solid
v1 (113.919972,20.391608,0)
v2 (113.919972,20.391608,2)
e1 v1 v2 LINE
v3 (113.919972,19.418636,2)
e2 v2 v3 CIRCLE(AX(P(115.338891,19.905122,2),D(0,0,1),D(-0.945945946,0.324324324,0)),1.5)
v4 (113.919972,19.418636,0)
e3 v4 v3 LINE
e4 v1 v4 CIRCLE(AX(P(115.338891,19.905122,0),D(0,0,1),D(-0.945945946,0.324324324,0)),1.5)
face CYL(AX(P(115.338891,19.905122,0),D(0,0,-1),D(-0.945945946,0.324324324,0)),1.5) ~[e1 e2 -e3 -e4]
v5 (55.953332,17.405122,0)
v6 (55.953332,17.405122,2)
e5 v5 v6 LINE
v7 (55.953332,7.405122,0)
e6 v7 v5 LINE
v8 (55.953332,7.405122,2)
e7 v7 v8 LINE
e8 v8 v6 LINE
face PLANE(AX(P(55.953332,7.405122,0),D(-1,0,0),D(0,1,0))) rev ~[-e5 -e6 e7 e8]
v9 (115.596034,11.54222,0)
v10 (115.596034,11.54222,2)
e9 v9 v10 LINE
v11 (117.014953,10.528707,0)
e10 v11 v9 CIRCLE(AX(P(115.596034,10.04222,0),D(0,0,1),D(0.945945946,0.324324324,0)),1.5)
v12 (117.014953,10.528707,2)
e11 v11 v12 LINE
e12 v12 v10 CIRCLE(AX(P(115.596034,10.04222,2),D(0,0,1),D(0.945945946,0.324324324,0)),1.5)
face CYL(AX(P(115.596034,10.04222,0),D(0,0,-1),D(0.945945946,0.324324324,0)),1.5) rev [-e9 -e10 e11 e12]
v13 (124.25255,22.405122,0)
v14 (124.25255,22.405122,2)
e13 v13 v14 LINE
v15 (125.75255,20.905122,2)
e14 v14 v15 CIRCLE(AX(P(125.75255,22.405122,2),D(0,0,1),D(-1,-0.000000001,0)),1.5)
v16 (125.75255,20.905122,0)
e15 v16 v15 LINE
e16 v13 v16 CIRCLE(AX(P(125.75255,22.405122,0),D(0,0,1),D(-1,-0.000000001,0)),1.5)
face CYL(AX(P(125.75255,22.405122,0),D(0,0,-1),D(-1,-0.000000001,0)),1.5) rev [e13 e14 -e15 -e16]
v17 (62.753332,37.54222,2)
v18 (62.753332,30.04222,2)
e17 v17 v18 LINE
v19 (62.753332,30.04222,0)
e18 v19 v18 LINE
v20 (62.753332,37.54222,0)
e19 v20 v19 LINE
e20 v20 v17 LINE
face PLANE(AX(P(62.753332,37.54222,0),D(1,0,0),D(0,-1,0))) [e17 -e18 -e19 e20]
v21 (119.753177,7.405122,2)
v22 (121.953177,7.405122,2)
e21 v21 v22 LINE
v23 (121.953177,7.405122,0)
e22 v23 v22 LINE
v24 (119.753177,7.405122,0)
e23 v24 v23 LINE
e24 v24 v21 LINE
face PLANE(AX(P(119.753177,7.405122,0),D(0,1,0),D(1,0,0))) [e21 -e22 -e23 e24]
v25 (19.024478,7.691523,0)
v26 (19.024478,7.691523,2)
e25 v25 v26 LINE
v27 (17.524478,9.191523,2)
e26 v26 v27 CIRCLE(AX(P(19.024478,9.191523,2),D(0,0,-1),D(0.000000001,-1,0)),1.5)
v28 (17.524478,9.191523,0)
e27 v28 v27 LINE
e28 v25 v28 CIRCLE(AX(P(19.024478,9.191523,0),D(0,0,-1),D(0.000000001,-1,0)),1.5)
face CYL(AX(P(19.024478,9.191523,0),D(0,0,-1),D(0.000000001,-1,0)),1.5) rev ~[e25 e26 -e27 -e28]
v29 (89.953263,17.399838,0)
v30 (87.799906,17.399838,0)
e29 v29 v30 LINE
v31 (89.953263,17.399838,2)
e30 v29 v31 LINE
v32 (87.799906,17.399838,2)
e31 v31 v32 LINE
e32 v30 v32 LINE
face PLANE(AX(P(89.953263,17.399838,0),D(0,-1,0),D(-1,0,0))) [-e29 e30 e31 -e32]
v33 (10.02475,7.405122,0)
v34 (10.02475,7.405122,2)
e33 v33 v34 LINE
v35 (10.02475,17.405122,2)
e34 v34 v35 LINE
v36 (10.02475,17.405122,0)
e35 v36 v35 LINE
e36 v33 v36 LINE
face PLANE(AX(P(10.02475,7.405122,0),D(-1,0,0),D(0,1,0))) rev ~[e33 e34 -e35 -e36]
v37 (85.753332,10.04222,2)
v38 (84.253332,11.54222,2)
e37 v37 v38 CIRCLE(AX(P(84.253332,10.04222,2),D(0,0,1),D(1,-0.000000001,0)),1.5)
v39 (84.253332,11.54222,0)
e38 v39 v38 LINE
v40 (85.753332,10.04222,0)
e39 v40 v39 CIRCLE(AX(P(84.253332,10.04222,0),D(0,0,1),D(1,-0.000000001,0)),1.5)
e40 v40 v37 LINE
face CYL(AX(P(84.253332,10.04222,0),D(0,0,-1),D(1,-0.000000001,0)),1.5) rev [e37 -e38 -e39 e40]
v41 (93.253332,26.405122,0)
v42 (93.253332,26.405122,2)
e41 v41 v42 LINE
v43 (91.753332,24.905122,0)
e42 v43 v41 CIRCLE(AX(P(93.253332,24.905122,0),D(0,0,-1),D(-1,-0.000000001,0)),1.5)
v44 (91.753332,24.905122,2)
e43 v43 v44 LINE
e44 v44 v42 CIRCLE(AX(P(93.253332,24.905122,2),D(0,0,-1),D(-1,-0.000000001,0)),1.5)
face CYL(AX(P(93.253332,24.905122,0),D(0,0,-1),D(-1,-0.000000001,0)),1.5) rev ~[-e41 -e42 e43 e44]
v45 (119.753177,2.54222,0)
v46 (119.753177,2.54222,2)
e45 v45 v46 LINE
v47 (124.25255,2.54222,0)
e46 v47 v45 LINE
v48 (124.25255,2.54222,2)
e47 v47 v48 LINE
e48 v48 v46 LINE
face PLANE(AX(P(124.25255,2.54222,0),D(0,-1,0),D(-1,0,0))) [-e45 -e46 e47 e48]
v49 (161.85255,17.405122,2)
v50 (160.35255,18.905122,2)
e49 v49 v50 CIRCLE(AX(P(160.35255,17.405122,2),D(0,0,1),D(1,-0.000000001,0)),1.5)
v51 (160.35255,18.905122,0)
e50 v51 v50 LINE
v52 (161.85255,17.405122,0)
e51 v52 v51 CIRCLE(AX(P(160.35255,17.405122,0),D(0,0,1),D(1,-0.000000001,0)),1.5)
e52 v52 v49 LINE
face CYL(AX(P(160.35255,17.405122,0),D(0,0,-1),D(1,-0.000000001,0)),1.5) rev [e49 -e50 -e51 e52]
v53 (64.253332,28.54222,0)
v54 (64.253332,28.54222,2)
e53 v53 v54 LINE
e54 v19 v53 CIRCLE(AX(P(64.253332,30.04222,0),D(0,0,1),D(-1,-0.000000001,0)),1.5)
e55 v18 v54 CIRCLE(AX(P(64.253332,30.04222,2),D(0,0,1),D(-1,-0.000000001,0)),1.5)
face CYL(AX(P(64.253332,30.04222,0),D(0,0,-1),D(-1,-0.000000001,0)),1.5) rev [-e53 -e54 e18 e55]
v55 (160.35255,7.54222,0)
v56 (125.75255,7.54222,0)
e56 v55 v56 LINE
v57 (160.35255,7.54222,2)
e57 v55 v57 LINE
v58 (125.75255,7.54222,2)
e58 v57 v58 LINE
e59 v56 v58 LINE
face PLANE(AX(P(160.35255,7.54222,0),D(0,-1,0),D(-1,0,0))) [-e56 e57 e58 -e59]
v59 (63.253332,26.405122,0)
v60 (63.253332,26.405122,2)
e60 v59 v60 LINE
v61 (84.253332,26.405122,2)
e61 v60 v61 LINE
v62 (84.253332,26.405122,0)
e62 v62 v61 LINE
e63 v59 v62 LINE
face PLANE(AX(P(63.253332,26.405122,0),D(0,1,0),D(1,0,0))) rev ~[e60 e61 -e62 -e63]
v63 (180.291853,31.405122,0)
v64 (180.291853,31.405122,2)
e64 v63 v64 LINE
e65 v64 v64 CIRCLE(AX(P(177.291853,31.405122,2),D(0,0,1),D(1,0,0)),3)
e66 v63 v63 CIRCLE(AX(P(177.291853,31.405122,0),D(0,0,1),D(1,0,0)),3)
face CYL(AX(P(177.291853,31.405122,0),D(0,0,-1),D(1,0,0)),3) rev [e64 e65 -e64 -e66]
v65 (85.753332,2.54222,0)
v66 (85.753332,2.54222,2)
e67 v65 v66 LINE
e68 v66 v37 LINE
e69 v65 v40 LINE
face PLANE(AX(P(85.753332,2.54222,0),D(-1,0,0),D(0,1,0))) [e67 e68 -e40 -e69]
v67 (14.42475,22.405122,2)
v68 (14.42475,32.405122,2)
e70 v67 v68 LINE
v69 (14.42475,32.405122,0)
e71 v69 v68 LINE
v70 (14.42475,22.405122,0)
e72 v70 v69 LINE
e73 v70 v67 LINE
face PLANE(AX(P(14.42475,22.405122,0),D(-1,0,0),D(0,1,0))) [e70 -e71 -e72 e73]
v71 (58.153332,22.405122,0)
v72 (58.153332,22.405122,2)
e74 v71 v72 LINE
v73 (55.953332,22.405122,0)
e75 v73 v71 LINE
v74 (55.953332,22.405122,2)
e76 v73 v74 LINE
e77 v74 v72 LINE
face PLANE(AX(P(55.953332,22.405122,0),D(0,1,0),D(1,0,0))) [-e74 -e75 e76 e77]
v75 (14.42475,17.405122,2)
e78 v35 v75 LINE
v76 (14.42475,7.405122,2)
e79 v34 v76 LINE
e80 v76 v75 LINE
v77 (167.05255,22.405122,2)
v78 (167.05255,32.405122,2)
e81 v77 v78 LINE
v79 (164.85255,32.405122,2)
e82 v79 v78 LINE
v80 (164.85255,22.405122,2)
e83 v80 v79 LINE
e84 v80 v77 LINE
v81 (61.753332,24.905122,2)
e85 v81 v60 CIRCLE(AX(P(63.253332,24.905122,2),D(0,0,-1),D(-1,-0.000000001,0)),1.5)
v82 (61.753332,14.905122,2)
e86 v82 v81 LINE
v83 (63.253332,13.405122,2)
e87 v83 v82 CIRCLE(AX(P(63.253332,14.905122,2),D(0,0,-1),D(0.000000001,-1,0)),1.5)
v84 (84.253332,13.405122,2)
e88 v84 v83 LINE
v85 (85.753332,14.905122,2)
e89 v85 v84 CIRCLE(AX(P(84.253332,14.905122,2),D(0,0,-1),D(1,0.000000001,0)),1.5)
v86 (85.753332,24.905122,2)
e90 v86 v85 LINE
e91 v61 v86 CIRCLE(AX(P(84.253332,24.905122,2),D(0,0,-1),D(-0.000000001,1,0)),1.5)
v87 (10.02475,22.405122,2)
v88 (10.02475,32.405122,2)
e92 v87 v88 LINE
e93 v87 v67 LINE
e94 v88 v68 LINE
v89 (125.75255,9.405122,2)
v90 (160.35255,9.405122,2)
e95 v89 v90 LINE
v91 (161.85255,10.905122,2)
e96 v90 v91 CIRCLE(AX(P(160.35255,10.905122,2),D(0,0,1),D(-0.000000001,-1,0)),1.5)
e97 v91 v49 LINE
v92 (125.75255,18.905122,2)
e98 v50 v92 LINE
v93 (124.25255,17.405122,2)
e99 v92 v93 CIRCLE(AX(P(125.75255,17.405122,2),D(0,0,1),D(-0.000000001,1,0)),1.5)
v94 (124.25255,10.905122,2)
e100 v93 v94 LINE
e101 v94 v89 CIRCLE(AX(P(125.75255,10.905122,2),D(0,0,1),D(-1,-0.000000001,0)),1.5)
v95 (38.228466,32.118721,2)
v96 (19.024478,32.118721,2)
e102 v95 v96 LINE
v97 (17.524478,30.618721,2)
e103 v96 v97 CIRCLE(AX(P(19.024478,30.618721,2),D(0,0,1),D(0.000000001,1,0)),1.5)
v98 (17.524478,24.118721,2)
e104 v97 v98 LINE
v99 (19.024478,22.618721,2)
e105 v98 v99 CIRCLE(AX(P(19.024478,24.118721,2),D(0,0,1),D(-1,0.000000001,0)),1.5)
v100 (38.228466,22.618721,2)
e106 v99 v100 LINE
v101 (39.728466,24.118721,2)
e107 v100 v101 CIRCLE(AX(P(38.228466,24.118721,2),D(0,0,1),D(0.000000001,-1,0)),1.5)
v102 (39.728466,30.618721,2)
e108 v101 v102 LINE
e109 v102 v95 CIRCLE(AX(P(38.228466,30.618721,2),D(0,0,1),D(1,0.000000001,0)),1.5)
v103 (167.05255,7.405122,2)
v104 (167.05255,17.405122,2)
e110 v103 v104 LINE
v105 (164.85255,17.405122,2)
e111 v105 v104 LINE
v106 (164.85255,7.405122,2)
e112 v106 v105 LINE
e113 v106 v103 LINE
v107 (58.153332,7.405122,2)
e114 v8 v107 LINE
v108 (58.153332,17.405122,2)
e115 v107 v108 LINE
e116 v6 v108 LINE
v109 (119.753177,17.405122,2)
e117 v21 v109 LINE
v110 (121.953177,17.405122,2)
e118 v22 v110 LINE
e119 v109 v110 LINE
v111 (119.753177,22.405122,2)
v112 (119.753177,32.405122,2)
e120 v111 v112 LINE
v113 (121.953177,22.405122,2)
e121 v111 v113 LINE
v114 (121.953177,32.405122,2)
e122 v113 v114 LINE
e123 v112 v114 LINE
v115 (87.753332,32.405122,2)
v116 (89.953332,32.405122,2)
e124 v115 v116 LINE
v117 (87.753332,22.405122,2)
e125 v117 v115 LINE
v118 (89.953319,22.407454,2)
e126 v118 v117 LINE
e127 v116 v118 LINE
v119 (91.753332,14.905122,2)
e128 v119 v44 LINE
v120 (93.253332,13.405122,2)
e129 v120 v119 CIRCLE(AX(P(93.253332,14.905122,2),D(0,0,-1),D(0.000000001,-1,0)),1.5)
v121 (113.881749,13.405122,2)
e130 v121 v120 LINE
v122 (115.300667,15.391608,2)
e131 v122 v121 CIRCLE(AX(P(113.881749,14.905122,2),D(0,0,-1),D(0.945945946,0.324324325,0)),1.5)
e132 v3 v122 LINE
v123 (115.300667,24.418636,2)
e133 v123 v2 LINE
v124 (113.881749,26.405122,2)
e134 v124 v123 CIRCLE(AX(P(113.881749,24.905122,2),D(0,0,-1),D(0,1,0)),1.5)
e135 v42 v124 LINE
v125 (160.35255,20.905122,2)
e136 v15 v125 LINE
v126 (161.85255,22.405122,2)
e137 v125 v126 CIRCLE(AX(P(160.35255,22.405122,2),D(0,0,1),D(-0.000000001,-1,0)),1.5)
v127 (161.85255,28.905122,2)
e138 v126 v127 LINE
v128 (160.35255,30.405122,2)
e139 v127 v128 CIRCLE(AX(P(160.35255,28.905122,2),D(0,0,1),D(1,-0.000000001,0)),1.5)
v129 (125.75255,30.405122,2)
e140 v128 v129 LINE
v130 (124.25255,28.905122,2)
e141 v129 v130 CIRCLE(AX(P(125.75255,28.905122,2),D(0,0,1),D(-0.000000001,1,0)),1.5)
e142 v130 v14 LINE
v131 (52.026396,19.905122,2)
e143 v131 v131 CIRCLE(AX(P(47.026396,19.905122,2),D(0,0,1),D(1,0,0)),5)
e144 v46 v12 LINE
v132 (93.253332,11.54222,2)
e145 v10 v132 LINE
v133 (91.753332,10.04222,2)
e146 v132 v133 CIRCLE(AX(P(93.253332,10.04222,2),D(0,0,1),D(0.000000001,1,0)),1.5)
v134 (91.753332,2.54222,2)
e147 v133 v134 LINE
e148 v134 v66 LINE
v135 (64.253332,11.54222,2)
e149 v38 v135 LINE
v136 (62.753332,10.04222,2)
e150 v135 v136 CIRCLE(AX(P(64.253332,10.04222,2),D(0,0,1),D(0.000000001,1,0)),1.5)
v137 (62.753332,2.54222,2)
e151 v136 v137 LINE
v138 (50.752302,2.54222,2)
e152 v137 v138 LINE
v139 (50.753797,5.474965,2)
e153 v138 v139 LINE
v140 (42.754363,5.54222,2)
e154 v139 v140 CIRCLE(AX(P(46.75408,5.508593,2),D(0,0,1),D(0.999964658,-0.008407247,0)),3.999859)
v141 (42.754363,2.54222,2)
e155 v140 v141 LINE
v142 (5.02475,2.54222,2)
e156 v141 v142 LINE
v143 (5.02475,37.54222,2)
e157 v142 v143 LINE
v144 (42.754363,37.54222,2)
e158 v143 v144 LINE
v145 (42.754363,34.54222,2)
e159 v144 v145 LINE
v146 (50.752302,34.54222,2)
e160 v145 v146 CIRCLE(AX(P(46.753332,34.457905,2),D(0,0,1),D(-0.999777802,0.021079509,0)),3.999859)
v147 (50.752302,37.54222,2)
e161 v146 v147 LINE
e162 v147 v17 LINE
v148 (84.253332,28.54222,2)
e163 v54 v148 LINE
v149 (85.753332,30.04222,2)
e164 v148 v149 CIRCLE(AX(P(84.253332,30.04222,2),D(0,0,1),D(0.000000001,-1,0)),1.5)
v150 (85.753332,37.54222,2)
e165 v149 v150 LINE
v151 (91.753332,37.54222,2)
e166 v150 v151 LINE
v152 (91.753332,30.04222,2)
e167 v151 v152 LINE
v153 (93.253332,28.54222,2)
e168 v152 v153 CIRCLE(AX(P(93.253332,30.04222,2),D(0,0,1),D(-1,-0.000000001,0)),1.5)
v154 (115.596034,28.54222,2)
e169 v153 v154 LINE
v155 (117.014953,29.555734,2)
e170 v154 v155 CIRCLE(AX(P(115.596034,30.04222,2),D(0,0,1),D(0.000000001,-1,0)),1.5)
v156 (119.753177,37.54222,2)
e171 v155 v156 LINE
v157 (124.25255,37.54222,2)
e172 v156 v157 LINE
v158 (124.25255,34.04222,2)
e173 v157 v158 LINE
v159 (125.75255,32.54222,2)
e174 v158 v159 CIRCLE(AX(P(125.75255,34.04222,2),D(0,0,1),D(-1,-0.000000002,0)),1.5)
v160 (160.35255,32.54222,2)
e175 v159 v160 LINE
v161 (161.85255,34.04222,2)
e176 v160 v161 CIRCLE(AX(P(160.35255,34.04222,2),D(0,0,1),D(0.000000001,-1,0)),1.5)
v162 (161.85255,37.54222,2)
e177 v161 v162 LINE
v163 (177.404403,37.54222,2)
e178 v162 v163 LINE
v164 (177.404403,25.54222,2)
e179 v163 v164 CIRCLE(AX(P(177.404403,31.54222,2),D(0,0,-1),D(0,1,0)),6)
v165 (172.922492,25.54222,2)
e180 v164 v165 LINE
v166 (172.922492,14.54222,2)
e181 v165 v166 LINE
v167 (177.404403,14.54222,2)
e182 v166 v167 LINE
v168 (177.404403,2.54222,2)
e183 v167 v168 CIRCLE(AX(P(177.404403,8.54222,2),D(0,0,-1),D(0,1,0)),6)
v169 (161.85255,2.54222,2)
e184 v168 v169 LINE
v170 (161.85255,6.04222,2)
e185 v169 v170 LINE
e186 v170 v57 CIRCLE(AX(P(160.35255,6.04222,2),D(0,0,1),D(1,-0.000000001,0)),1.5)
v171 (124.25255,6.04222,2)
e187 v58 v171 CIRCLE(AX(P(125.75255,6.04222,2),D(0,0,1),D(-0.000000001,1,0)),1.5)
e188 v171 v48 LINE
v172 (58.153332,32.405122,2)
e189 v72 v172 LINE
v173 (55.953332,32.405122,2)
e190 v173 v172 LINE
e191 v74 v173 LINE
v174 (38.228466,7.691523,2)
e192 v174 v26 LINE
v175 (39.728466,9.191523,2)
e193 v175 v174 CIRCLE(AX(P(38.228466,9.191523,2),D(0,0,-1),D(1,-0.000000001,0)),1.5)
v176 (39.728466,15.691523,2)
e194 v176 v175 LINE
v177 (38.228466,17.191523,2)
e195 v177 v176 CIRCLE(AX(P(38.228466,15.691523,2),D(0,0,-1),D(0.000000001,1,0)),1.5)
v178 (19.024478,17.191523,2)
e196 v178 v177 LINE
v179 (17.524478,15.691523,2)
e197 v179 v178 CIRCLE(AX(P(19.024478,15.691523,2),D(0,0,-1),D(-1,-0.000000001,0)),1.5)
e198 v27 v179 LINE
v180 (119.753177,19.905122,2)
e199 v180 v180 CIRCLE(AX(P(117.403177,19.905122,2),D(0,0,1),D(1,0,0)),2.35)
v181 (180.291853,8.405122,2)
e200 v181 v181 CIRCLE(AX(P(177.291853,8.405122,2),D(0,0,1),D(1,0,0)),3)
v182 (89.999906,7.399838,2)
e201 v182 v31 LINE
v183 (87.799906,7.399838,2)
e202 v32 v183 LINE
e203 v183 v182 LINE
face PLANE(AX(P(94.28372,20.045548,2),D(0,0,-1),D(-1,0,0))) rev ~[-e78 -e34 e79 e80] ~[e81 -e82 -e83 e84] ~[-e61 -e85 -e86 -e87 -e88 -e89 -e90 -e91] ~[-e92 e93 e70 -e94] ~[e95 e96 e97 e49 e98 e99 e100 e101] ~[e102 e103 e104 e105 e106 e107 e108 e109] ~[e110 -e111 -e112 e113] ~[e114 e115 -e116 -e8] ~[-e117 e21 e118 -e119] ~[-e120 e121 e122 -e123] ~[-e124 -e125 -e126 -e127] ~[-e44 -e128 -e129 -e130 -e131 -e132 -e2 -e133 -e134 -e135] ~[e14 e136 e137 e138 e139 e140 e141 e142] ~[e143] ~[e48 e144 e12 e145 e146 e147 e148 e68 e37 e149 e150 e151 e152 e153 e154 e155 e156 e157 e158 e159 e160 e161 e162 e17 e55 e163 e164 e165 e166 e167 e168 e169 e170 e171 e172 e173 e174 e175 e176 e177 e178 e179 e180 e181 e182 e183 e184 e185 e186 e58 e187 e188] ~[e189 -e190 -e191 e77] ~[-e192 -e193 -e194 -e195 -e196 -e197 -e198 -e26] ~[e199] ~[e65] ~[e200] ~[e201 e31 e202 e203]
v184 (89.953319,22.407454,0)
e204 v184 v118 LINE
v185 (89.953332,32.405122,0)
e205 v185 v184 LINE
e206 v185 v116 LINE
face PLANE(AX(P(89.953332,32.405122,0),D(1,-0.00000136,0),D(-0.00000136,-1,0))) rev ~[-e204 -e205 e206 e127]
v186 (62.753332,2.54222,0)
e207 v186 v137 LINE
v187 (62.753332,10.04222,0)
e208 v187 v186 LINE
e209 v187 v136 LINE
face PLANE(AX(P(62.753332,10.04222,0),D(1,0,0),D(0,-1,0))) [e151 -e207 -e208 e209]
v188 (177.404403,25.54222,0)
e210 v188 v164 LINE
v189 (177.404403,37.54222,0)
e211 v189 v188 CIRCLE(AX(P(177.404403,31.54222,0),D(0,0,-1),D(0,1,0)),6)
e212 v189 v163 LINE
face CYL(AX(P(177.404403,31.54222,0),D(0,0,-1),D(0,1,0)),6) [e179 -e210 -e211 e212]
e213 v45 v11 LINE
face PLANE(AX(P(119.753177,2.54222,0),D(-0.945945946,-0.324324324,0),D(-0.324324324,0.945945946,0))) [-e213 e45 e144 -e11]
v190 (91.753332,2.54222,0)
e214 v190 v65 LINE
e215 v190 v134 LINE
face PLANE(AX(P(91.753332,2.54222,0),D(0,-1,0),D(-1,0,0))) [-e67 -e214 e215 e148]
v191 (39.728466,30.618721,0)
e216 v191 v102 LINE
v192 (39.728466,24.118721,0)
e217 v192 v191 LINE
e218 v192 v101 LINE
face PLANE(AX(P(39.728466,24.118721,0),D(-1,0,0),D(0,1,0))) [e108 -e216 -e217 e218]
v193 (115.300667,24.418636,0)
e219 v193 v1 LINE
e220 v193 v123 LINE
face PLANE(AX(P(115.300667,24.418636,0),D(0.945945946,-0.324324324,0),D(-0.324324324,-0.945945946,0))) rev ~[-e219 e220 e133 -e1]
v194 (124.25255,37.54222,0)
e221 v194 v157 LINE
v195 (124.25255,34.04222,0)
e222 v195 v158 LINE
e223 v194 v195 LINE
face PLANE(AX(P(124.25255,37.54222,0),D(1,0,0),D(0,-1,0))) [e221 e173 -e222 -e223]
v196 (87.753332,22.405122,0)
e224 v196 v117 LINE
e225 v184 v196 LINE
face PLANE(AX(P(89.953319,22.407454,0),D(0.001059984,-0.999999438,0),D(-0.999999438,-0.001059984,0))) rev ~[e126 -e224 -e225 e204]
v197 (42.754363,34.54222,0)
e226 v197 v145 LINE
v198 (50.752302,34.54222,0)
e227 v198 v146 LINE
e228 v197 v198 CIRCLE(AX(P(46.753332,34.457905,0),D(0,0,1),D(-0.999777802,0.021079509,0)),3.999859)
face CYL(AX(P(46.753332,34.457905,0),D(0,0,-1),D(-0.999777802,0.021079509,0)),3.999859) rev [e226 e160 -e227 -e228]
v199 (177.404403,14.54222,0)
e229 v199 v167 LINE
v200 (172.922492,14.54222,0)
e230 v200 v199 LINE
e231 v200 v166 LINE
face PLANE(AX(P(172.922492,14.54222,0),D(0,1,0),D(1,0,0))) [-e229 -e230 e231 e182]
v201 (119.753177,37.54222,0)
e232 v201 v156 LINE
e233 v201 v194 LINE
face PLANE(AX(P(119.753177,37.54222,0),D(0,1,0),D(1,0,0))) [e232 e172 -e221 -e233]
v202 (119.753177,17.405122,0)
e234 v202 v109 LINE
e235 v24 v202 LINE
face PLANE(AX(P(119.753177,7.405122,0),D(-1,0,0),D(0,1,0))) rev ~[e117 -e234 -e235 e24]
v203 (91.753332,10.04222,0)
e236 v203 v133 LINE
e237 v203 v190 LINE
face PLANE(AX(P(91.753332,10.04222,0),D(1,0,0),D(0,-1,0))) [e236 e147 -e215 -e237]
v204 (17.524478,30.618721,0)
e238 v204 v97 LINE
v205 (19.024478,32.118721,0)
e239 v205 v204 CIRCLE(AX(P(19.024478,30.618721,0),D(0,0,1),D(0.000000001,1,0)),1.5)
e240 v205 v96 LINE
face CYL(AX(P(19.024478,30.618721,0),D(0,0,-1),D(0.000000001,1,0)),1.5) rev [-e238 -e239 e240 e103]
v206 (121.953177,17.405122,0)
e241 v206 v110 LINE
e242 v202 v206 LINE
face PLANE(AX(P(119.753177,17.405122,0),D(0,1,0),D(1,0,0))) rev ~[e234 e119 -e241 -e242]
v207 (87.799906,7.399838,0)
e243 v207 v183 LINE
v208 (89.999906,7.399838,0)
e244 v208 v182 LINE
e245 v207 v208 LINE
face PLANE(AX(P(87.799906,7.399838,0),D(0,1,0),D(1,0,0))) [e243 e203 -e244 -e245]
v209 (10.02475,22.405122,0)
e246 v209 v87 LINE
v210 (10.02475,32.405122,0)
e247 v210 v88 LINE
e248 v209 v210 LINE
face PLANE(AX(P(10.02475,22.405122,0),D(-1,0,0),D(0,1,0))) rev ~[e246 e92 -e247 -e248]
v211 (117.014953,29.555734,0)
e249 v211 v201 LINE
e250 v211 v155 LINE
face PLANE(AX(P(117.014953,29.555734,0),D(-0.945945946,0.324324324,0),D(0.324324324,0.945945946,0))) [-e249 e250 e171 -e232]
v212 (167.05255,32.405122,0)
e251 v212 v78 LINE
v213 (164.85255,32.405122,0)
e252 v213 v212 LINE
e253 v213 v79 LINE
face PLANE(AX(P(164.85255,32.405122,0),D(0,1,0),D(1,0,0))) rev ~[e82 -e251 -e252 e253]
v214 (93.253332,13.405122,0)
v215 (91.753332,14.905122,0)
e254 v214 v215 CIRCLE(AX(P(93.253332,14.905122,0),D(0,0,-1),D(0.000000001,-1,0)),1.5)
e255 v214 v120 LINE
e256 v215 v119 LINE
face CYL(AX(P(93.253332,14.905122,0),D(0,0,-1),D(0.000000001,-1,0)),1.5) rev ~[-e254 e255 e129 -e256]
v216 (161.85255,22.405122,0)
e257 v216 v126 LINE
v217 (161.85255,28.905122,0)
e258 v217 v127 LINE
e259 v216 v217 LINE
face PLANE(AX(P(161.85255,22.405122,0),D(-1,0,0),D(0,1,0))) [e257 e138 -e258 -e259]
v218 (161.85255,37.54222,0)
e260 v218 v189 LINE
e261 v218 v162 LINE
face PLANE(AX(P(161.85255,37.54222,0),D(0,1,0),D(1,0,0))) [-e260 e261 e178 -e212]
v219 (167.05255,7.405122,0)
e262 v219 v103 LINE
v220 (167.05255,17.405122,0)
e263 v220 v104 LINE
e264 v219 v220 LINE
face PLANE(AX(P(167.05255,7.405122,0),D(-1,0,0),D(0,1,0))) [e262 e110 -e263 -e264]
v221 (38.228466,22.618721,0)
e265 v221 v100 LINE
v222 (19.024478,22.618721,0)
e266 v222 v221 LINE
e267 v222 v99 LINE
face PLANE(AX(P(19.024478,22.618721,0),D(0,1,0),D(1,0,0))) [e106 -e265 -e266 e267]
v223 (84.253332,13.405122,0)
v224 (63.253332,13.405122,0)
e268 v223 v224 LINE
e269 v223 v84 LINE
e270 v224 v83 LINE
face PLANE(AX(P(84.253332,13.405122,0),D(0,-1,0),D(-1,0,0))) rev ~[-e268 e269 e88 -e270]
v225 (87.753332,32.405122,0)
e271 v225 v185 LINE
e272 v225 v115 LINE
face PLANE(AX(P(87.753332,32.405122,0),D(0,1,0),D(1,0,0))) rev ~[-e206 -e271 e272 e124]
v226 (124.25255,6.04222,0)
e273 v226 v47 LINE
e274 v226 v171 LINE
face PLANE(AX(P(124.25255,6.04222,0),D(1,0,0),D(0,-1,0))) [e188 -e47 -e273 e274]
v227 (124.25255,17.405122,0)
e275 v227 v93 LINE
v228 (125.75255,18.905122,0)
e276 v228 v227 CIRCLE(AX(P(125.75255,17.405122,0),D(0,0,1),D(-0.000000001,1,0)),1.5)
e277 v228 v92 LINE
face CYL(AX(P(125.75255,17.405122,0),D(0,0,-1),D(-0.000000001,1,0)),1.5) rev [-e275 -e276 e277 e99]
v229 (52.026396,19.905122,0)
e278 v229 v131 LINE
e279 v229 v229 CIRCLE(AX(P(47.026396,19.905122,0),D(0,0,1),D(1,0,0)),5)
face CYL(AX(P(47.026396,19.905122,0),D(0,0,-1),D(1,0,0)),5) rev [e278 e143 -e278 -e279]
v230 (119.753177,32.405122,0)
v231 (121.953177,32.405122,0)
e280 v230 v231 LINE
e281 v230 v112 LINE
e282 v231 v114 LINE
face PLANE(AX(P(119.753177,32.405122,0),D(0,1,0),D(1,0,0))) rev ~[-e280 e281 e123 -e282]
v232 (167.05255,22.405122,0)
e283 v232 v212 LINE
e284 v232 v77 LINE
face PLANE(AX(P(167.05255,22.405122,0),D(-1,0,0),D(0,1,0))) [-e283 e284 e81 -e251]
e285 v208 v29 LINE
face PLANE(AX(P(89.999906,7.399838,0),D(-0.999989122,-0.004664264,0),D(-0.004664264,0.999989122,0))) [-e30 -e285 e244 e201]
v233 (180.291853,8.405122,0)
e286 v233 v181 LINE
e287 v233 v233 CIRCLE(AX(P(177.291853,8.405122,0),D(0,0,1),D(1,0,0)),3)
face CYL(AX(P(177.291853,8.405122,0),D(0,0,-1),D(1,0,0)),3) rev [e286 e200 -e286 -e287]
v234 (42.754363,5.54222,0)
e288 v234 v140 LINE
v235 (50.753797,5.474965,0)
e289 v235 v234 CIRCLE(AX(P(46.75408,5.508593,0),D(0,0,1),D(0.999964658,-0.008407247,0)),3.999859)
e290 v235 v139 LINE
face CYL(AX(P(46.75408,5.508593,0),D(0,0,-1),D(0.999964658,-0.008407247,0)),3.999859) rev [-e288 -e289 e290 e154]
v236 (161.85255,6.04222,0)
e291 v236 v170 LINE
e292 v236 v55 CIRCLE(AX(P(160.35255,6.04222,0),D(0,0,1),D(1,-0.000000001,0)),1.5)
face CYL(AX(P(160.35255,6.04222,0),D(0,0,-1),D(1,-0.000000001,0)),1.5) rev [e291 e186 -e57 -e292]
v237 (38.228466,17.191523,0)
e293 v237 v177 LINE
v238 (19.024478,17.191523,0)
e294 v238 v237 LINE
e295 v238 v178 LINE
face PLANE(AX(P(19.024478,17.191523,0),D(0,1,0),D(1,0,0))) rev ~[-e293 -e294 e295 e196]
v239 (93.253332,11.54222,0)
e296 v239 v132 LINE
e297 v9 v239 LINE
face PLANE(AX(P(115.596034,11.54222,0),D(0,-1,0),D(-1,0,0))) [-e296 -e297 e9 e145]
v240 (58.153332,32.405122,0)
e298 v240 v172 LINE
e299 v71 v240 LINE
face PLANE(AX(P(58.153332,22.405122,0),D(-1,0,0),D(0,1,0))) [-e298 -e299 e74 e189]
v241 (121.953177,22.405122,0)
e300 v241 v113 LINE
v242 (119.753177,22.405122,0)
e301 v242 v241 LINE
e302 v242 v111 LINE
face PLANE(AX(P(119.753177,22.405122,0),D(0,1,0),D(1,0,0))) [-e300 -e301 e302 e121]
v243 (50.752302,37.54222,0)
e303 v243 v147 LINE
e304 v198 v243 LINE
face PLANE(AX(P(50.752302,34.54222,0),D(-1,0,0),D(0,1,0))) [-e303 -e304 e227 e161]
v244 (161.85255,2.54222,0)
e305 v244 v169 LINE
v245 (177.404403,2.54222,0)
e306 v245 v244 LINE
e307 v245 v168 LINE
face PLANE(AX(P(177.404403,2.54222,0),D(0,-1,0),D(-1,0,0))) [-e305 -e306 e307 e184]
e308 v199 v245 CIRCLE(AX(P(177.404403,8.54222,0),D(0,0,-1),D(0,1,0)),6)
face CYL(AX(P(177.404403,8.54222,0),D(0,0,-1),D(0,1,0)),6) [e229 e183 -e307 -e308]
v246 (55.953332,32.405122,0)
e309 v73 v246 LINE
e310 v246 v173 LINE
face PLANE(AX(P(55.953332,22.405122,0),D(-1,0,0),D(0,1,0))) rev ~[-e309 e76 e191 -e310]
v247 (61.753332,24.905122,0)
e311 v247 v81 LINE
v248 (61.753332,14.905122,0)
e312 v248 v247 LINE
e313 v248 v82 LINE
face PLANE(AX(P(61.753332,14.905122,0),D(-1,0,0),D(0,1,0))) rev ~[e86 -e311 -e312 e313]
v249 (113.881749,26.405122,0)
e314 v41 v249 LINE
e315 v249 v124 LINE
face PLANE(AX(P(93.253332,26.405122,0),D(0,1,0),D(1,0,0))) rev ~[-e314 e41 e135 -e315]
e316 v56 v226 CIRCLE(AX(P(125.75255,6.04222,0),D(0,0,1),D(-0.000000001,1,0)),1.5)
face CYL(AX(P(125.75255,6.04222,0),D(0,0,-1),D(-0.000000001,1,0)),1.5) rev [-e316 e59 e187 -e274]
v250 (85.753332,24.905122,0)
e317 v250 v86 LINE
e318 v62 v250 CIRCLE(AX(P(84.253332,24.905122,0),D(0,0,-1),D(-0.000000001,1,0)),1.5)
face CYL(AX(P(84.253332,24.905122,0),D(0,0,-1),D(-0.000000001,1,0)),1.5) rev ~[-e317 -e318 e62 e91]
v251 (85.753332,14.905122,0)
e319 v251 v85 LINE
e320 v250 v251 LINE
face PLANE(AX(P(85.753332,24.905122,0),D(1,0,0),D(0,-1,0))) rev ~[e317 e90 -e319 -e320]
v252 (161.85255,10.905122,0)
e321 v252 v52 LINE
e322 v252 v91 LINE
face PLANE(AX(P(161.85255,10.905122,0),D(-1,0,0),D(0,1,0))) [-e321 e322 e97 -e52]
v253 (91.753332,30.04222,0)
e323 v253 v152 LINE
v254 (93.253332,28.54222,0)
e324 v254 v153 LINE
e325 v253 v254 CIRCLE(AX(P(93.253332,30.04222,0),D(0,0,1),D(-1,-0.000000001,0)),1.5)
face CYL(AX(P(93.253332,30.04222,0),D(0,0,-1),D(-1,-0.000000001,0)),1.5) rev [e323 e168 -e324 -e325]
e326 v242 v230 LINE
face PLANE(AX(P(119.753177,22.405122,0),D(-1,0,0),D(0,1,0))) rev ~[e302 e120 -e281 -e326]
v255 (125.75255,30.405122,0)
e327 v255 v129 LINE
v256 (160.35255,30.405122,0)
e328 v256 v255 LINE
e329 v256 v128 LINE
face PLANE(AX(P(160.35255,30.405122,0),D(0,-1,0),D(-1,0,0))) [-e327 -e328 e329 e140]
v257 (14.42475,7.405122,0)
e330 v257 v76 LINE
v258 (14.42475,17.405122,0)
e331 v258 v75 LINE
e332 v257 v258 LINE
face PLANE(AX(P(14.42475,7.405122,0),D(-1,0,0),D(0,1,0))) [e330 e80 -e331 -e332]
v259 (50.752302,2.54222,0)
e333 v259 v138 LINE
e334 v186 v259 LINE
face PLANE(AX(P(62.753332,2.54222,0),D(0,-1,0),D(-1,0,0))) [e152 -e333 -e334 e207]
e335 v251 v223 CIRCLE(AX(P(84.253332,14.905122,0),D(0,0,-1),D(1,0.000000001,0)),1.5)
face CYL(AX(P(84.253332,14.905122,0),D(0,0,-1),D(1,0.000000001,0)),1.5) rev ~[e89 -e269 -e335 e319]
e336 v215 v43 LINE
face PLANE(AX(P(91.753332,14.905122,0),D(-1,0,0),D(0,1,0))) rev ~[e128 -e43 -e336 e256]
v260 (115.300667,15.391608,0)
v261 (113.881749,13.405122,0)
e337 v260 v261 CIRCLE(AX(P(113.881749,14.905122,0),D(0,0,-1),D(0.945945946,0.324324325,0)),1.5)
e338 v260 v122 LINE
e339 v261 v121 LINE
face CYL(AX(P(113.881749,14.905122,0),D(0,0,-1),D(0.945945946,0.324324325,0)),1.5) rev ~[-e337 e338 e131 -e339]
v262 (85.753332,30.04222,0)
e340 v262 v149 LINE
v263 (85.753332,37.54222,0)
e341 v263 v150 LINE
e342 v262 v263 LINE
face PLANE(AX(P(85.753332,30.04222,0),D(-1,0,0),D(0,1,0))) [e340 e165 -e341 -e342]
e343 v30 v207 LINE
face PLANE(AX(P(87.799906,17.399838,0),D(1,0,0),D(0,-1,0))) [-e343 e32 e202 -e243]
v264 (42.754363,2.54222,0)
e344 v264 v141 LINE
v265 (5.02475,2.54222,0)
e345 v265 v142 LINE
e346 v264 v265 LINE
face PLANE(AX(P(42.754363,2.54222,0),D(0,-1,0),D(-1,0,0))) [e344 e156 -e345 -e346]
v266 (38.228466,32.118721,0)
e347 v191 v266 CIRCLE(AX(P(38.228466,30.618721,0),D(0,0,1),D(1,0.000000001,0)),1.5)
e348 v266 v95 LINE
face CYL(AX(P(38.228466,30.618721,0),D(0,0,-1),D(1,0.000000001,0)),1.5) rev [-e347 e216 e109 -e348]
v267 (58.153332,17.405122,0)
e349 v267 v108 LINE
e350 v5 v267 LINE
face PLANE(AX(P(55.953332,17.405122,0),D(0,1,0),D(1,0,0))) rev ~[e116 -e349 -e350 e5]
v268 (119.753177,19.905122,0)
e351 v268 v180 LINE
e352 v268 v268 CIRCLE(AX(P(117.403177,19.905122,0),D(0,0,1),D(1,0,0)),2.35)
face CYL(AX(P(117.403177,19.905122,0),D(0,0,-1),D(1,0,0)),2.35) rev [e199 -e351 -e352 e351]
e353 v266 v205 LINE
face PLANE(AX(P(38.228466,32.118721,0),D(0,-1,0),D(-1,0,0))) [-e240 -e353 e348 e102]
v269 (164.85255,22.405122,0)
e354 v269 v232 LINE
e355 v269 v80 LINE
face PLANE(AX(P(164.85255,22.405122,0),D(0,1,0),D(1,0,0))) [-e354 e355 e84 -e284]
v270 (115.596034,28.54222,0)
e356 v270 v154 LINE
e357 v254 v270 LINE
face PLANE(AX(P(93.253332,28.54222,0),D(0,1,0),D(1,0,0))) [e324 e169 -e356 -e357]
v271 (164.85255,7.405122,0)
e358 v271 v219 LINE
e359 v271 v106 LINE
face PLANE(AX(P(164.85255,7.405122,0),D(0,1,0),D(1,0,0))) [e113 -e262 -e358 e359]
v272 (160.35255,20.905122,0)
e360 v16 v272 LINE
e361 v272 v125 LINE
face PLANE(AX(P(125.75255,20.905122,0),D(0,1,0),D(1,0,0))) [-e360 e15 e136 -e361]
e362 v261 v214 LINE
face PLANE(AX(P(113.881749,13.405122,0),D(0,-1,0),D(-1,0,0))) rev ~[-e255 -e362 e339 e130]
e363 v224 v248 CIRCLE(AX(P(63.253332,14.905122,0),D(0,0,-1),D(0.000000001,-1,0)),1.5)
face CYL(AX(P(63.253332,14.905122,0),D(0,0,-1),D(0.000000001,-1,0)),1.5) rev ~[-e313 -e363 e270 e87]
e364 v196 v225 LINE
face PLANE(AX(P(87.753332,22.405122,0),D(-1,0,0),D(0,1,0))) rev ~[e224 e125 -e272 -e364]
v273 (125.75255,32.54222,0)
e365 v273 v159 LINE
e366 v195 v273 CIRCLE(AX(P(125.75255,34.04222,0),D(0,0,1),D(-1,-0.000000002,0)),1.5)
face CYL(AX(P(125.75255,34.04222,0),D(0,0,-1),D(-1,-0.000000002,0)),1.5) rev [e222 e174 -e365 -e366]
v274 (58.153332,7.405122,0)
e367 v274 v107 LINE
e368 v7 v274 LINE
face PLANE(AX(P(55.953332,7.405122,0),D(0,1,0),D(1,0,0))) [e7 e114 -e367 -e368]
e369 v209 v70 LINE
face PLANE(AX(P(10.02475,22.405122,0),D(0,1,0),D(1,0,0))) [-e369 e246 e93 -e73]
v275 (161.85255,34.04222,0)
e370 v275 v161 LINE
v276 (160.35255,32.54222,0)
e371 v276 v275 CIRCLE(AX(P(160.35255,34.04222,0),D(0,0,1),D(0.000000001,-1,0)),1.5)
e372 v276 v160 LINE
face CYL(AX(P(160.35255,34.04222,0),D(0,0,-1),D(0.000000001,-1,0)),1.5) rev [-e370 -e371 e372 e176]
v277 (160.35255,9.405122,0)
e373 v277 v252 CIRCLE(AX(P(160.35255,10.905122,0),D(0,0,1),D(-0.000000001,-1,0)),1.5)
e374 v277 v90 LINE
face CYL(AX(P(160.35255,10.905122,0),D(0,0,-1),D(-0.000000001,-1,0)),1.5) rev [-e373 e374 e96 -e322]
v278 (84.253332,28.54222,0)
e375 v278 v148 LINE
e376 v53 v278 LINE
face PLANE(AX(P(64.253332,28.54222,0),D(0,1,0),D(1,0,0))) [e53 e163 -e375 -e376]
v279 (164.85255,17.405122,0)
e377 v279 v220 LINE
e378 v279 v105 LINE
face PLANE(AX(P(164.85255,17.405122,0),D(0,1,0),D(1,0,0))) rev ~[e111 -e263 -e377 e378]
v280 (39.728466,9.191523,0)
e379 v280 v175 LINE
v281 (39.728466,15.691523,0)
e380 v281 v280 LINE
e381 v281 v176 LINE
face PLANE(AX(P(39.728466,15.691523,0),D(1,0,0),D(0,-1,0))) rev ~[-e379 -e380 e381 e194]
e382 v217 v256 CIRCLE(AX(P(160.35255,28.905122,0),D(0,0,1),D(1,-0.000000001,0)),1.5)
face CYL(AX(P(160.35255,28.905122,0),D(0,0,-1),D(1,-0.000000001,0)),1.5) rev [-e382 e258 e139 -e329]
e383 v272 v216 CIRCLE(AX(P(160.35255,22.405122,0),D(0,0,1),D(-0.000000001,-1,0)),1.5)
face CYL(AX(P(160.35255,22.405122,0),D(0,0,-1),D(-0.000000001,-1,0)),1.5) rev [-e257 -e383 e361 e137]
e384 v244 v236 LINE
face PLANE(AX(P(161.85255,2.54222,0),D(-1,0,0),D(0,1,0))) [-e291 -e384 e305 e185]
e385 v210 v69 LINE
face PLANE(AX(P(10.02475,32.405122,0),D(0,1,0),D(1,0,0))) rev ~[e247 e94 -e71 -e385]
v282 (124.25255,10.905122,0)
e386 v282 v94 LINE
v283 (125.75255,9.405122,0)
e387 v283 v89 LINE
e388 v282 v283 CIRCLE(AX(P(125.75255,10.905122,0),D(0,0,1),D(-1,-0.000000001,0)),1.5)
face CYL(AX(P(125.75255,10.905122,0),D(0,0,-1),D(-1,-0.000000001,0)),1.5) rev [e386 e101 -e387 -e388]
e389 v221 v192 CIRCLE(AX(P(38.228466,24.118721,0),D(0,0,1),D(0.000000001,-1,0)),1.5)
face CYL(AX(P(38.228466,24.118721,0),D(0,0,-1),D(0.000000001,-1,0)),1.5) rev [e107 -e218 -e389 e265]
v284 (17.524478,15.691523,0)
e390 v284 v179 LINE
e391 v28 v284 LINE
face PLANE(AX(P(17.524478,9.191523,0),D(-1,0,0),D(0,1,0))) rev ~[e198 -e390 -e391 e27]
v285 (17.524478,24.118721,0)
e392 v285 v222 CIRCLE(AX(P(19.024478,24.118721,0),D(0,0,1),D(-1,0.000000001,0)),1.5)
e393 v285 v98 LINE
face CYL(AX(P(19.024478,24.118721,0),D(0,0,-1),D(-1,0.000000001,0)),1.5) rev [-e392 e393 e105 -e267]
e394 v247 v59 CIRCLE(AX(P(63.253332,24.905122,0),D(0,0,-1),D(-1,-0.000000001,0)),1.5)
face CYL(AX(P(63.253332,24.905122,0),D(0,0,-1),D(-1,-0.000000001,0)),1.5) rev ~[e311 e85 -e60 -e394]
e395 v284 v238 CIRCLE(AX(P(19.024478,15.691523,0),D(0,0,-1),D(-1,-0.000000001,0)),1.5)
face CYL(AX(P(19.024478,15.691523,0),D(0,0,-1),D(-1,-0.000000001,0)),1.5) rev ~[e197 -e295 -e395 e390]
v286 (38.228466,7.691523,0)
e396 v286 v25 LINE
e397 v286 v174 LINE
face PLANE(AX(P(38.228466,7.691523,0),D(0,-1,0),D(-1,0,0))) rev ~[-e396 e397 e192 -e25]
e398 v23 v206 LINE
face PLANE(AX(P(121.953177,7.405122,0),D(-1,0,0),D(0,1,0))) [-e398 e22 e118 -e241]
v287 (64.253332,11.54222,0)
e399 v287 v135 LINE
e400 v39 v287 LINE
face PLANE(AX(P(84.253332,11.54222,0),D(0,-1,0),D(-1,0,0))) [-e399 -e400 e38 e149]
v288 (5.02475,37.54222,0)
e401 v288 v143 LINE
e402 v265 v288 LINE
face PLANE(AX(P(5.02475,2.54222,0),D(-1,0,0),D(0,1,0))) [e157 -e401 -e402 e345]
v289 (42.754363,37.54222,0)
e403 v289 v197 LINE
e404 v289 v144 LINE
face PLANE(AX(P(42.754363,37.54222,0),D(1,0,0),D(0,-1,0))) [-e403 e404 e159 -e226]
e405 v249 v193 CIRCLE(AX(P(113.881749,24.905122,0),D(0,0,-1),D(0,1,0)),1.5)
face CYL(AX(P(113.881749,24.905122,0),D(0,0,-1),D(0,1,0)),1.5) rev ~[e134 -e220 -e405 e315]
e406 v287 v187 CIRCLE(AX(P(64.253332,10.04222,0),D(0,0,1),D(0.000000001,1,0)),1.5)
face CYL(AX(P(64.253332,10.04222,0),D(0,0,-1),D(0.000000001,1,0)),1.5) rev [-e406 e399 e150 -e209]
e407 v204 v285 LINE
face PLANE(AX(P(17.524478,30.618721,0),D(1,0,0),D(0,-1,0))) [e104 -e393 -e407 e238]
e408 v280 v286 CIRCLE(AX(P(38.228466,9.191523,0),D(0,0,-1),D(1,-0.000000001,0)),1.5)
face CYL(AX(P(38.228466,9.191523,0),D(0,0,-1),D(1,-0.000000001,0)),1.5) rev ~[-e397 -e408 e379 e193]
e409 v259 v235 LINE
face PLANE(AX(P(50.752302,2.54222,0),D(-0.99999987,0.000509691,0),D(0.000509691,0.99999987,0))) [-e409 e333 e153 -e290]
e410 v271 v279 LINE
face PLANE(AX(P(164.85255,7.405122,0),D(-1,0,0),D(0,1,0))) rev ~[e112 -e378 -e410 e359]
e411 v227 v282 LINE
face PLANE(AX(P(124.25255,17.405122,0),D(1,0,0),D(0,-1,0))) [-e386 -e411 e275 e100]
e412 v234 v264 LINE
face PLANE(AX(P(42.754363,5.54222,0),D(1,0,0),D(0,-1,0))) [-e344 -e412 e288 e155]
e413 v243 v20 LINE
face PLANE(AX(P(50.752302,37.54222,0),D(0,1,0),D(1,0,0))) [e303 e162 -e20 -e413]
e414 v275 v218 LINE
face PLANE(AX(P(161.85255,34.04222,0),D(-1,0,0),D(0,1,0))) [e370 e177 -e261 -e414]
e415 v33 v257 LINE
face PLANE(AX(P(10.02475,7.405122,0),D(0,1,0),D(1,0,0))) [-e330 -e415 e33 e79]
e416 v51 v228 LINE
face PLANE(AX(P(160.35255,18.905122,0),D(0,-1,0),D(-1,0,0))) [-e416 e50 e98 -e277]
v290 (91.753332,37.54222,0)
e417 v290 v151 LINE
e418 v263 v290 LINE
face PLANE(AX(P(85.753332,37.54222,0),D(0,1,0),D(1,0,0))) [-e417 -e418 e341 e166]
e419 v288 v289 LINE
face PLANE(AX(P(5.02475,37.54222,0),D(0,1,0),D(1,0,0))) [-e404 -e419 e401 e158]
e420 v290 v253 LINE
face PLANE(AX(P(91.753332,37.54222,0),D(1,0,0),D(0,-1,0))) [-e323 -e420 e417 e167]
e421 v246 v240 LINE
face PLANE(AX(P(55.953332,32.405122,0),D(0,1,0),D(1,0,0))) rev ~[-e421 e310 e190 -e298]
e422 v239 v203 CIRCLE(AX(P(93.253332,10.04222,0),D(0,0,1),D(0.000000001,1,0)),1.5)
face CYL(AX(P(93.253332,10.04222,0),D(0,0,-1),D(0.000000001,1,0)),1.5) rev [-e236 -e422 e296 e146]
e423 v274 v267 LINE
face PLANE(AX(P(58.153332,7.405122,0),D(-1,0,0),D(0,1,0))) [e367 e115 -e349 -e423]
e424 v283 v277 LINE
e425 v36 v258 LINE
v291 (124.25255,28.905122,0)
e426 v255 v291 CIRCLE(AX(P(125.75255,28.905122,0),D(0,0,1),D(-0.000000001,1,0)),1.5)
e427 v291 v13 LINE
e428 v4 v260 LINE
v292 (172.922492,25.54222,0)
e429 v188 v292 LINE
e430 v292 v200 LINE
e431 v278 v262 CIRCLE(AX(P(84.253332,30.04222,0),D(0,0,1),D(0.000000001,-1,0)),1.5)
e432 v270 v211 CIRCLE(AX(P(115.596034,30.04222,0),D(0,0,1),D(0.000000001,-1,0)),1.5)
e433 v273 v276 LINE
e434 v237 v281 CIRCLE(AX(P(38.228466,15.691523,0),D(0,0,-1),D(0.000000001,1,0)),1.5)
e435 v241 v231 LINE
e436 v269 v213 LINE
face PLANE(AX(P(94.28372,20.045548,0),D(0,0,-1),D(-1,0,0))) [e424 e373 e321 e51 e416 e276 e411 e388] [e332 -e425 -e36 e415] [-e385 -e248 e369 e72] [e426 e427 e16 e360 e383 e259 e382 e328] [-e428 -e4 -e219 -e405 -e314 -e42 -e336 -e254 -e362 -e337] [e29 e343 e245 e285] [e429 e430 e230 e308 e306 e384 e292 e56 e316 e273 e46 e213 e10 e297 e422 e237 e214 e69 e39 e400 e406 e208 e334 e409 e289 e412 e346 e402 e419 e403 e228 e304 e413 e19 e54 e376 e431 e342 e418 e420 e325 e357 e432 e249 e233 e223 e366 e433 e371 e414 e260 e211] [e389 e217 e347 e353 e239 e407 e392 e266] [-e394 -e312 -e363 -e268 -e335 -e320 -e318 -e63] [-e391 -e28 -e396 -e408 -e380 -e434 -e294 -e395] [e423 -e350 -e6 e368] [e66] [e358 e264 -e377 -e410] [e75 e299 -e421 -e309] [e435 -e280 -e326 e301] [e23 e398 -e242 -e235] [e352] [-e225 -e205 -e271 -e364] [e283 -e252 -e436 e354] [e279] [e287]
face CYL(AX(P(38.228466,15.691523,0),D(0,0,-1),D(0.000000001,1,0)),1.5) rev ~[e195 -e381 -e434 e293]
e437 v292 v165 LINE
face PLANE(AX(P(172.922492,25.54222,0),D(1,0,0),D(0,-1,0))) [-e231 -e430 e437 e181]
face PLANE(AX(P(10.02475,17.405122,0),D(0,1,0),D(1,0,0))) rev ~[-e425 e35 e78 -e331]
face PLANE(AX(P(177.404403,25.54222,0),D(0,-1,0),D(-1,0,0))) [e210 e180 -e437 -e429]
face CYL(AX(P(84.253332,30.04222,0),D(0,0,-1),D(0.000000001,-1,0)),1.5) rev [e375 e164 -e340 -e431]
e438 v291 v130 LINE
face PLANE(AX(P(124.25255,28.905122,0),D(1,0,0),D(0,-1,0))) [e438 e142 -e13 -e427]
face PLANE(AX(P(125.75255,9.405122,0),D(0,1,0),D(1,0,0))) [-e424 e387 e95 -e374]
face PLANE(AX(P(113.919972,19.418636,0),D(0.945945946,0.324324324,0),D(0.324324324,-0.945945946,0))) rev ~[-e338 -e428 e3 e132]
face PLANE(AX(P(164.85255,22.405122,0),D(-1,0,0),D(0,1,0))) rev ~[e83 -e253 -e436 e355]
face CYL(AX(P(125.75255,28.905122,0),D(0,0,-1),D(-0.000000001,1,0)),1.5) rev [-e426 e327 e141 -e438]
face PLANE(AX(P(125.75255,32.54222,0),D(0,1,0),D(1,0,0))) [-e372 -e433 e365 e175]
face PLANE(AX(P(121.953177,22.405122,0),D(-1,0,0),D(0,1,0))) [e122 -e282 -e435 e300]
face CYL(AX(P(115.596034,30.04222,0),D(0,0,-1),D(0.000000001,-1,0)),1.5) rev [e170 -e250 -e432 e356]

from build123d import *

# Parameters (mm, degrees)
MODEL_R         = 3
MODEL_R_2       = 2.35
MODEL_R_3       = 5
MODEL_W         = 2.2
MODEL_H         = 10
MODEL_W_2       = 4.4
EXTRUDE_1_DEPTH = 2


with BuildPart() as part:
    # Model → 凸台-拉伸1 (new body)
    with BuildSketch(Plane.XY):
        with BuildLine():
            Line((42.75436257, 5.542220319), (42.75436257, 2.542220319))
            Line((42.75436257, 2.542220319), (5.024750427, 2.542220319))
            Line((5.024750427, 2.542220319), (5.024750427, 37.542220319))
            Line((5.024750427, 37.542220319), (42.75436257, 37.542220319))
            Line((42.75436257, 37.542220319), (42.75436257, 34.542220319))
            ThreePointArc((42.75436257, 34.542220319), (46.753332445, 30.45804663), (50.75230232, 34.542220319))
            Line((50.75230232, 34.542220319), (50.75230232, 37.542220319))
            Line((50.75230232, 37.542220319), (62.753332445, 37.542220319))
            Line((62.753332445, 37.542220319), (62.753332445, 30.042220319))
            ThreePointArc((62.753332445, 30.042220319), (63.192672273, 28.981560148), (64.253332445, 28.542220319))
            Line((64.253332445, 28.542220319), (84.253332445, 28.542220319))
            ThreePointArc((84.253332445, 28.542220319), (85.313992617, 28.981560148), (85.753332445, 30.042220319))
            Line((85.753332445, 30.042220319), (85.753332445, 37.542220319))
            Line((85.753332445, 37.542220319), (91.753332445, 37.542220319))
            Line((91.753332445, 37.542220319), (91.753332445, 30.042220319))
            ThreePointArc((91.753332445, 30.042220319), (92.192672273, 28.981560148), (93.253332445, 28.542220319))
            Line((93.253332445, 28.542220319), (115.596034226, 28.542220319))
            ThreePointArc((115.596034226, 28.542220319), (116.467891517, 28.821620113), (117.014953145, 29.555733833))
            Line((117.014953145, 29.555733833), (119.753177083, 37.542220319))
            Line((119.753177083, 37.542220319), (124.252549671, 37.542220319))
            Line((124.252549671, 37.542220319), (124.252549671, 34.042220319))
            ThreePointArc((124.252549671, 34.042220319), (124.6918895, 32.981560148), (125.752549671, 32.542220319))
            Line((125.752549671, 32.542220319), (160.352549671, 32.542220319))
            ThreePointArc((160.352549671, 32.542220319), (161.413209843, 32.981560148), (161.852549671, 34.042220319))
            Line((161.852549671, 34.042220319), (161.852549671, 37.542220319))
            Line((161.852549671, 37.542220319), (177.404402917, 37.542220319))
            ThreePointArc((177.404402917, 37.542220319), (183.404402917, 31.542220319), (177.404402917, 25.542220319))
            Line((177.404402917, 25.542220319), (172.92249216, 25.542220319))
            Line((172.92249216, 25.542220319), (172.92249216, 14.542220319))
            Line((172.92249216, 14.542220319), (177.404402917, 14.542220319))
            ThreePointArc((177.404402917, 14.542220319), (183.404402917, 8.542220319), (177.404402917, 2.542220319))
            Line((177.404402917, 2.542220319), (161.852549671, 2.542220319))
            Line((161.852549671, 2.542220319), (161.852549671, 6.042220319))
            ThreePointArc((161.852549671, 6.042220319), (161.413209843, 7.102880491), (160.352549671, 7.542220319))
            Line((160.352549671, 7.542220319), (125.752549671, 7.542220319))
            ThreePointArc((125.752549671, 7.542220319), (124.6918895, 7.102880491), (124.252549671, 6.042220319))
            Line((124.252549671, 6.042220319), (124.252549671, 2.542220319))
            Line((124.252549671, 2.542220319), (119.753177083, 2.542220319))
            Line((119.753177083, 2.542220319), (117.014953145, 10.528706806))
            ThreePointArc((117.014953145, 10.528706806), (116.467891517, 11.262820526), (115.596034226, 11.542220319))
            Line((115.596034226, 11.542220319), (93.253332445, 11.542220319))
            ThreePointArc((93.253332445, 11.542220319), (92.192672273, 11.102880491), (91.753332445, 10.042220319))
            Line((91.753332445, 10.042220319), (91.753332445, 2.542220319))
            Line((91.753332445, 2.542220319), (85.753332445, 2.542220319))
            Line((85.753332445, 2.542220319), (85.753332445, 10.042220319))
            ThreePointArc((85.753332445, 10.042220319), (85.313992617, 11.102880491), (84.253332445, 11.542220319))
            Line((84.253332445, 11.542220319), (64.253332445, 11.542220319))
            ThreePointArc((64.253332445, 11.542220319), (63.192672273, 11.102880491), (62.753332445, 10.042220319))
            Line((62.753332445, 10.042220319), (62.753332445, 2.542220319))
            Line((62.753332445, 2.542220319), (50.75230232, 2.542220319))
            Line((50.75230232, 2.542220319), (50.753797115, 5.474964717))
            ThreePointArc((50.753797115, 5.474964717), (46.787707643, 9.508309791), (42.75436257, 5.542220319))
        make_face()
        with Locations((177.291852583, 31.405122008)):
            Circle(MODEL_R, mode=Mode.SUBTRACT)
        with Locations((177.291852583, 8.405122008)):
            Circle(MODEL_R, mode=Mode.SUBTRACT)
        with Locations((117.403177083, 19.905122008)):
            Circle(MODEL_R_2, mode=Mode.SUBTRACT)
        with Locations((47.026395841, 19.905122008)):
            Circle(MODEL_R_3, mode=Mode.SUBTRACT)
        with Locations((57.053332445, 27.405122008)):
            Rectangle(MODEL_W, MODEL_H, mode=Mode.SUBTRACT)
        with Locations((57.053332445, 12.405122008)):
            Rectangle(MODEL_W, MODEL_H, mode=Mode.SUBTRACT)
        with Locations((165.952549671, 27.405122008)):
            Rectangle(MODEL_W, MODEL_H, mode=Mode.SUBTRACT)
        with Locations((165.952549671, 12.405122008)):
            Rectangle(MODEL_W, MODEL_H, mode=Mode.SUBTRACT)
        with Locations((120.853177083, 27.405122008)):
            Rectangle(MODEL_W, MODEL_H, mode=Mode.SUBTRACT)
        with Locations((120.853177083, 12.405122008)):
            Rectangle(MODEL_W, MODEL_H, mode=Mode.SUBTRACT)
        Polygon((87.753332445, 32.405122008), (89.953332445, 32.405122008), (89.953318849, 22.40745396), (87.753332445, 22.405122008), align=None, mode=Mode.SUBTRACT)
        Polygon((87.799905777, 7.3998381), (89.999905777, 7.3998381), (89.953262633, 17.3998381), (87.799905777, 17.3998381), align=None, mode=Mode.SUBTRACT)
        with BuildLine():
            Line((63.253332445, 26.405122008), (84.253332445, 26.405122008))
            ThreePointArc((84.253332445, 26.405122008), (85.313992617, 25.96578218), (85.753332445, 24.905122008))
            Line((85.753332445, 24.905122008), (85.753332445, 14.905122008))
            ThreePointArc((85.753332445, 14.905122008), (85.313992617, 13.844461836), (84.253332445, 13.405122008))
            Line((84.253332445, 13.405122008), (63.253332445, 13.405122008))
            ThreePointArc((63.253332445, 13.405122008), (62.192672273, 13.844461836), (61.753332445, 14.905122008))
            Line((61.753332445, 14.905122008), (61.753332445, 24.905122008))
            ThreePointArc((61.753332445, 24.905122008), (62.192672273, 25.96578218), (63.253332445, 26.405122008))
        make_face(mode=Mode.SUBTRACT)
        with BuildLine():
            Line((113.881748512, 13.405122008), (93.253332445, 13.405122008))
            ThreePointArc((93.253332445, 13.405122008), (92.192672273, 13.844461836), (91.753332445, 14.905122008))
            Line((91.753332445, 14.905122008), (91.753332445, 24.905122008))
            ThreePointArc((91.753332445, 24.905122008), (92.192672273, 25.96578218), (93.253332445, 26.405122008))
            Line((93.253332445, 26.405122008), (113.881748512, 26.405122008))
            ThreePointArc((113.881748512, 26.405122008), (115.102348719, 25.776979299), (115.300667431, 24.418635521))
            Line((115.300667431, 24.418635521), (113.91997245, 20.391608494))
            ThreePointArc((113.91997245, 20.391608494), (113.838891369, 19.905122008), (113.91997245, 19.418635521))
            Line((113.91997245, 19.418635521), (115.300667431, 15.391608494))
            ThreePointArc((115.300667431, 15.391608494), (115.102348719, 14.033264717), (113.881748512, 13.405122008))
        make_face(mode=Mode.SUBTRACT)
        with BuildLine():
            Line((161.852549671, 22.405122008), (161.852549671, 28.905122008))
            ThreePointArc((161.852549671, 28.905122008), (161.413209843, 29.96578218), (160.352549671, 30.405122008))
            Line((160.352549671, 30.405122008), (125.752549671, 30.405122008))
            ThreePointArc((125.752549671, 30.405122008), (124.6918895, 29.96578218), (124.252549671, 28.905122008))
            Line((124.252549671, 28.905122008), (124.252549671, 22.405122008))
            ThreePointArc((124.252549671, 22.405122008), (124.6918895, 21.344461836), (125.752549671, 20.905122008))
            Line((125.752549671, 20.905122008), (160.352549671, 20.905122008))
            ThreePointArc((160.352549671, 20.905122008), (161.413209843, 21.344461836), (161.852549671, 22.405122008))
        make_face(mode=Mode.SUBTRACT)
        with BuildLine():
            Line((124.252549671, 17.405122008), (124.252549671, 10.905122008))
            ThreePointArc((124.252549671, 10.905122008), (124.6918895, 9.844461836), (125.752549671, 9.405122008))
            Line((125.752549671, 9.405122008), (160.352549671, 9.405122008))
            ThreePointArc((160.352549671, 9.405122008), (161.413209843, 9.844461836), (161.852549671, 10.905122008))
            Line((161.852549671, 10.905122008), (161.852549671, 17.405122008))
            ThreePointArc((161.852549671, 17.405122008), (161.413209843, 18.46578218), (160.352549671, 18.905122008))
            Line((160.352549671, 18.905122008), (125.752549671, 18.905122008))
            ThreePointArc((125.752549671, 18.905122008), (124.6918895, 18.46578218), (124.252549671, 17.405122008))
        make_face(mode=Mode.SUBTRACT)
        with Locations((12.224750427, 27.405122008)):
            Rectangle(MODEL_W_2, MODEL_H, mode=Mode.SUBTRACT)
        with Locations((12.224750427, 12.405122008)):
            Rectangle(MODEL_W_2, MODEL_H, mode=Mode.SUBTRACT)
        with BuildLine():
            Line((19.024477888, 17.191523075), (38.228465706, 17.191523075))
            ThreePointArc((38.228465706, 17.191523075), (39.289125877, 16.752183247), (39.728465706, 15.691523075))
            Line((39.728465706, 15.691523075), (39.728465706, 9.191523075))
            ThreePointArc((39.728465706, 9.191523075), (39.289125877, 8.130862903), (38.228465706, 7.691523075))
            Line((38.228465706, 7.691523075), (19.024477888, 7.691523075))
            ThreePointArc((19.024477888, 7.691523075), (17.963817716, 8.130862903), (17.524477888, 9.191523075))
            Line((17.524477888, 9.191523075), (17.524477888, 15.691523075))
            ThreePointArc((17.524477888, 15.691523075), (17.963817716, 16.752183247), (19.024477888, 17.191523075))
        make_face(mode=Mode.SUBTRACT)
        with BuildLine():
            Line((19.024477888, 22.618720941), (38.228465706, 22.618720941))
            ThreePointArc((38.228465706, 22.618720941), (39.289125877, 23.058060769), (39.728465706, 24.118720941))
            Line((39.728465706, 24.118720941), (39.728465706, 30.618720941))
            ThreePointArc((39.728465706, 30.618720941), (39.289125877, 31.679381113), (38.228465706, 32.118720941))
            Line((38.228465706, 32.118720941), (19.024477888, 32.118720941))
            ThreePointArc((19.024477888, 32.118720941), (17.963817716, 31.679381113), (17.524477888, 30.618720941))
            Line((17.524477888, 30.618720941), (17.524477888, 24.118720941))
            ThreePointArc((17.524477888, 24.118720941), (17.963817716, 23.058060769), (19.024477888, 22.618720941))
        make_face(mode=Mode.SUBTRACT)
    extrude(amount=EXTRUDE_1_DEPTH)


solid = part.part
